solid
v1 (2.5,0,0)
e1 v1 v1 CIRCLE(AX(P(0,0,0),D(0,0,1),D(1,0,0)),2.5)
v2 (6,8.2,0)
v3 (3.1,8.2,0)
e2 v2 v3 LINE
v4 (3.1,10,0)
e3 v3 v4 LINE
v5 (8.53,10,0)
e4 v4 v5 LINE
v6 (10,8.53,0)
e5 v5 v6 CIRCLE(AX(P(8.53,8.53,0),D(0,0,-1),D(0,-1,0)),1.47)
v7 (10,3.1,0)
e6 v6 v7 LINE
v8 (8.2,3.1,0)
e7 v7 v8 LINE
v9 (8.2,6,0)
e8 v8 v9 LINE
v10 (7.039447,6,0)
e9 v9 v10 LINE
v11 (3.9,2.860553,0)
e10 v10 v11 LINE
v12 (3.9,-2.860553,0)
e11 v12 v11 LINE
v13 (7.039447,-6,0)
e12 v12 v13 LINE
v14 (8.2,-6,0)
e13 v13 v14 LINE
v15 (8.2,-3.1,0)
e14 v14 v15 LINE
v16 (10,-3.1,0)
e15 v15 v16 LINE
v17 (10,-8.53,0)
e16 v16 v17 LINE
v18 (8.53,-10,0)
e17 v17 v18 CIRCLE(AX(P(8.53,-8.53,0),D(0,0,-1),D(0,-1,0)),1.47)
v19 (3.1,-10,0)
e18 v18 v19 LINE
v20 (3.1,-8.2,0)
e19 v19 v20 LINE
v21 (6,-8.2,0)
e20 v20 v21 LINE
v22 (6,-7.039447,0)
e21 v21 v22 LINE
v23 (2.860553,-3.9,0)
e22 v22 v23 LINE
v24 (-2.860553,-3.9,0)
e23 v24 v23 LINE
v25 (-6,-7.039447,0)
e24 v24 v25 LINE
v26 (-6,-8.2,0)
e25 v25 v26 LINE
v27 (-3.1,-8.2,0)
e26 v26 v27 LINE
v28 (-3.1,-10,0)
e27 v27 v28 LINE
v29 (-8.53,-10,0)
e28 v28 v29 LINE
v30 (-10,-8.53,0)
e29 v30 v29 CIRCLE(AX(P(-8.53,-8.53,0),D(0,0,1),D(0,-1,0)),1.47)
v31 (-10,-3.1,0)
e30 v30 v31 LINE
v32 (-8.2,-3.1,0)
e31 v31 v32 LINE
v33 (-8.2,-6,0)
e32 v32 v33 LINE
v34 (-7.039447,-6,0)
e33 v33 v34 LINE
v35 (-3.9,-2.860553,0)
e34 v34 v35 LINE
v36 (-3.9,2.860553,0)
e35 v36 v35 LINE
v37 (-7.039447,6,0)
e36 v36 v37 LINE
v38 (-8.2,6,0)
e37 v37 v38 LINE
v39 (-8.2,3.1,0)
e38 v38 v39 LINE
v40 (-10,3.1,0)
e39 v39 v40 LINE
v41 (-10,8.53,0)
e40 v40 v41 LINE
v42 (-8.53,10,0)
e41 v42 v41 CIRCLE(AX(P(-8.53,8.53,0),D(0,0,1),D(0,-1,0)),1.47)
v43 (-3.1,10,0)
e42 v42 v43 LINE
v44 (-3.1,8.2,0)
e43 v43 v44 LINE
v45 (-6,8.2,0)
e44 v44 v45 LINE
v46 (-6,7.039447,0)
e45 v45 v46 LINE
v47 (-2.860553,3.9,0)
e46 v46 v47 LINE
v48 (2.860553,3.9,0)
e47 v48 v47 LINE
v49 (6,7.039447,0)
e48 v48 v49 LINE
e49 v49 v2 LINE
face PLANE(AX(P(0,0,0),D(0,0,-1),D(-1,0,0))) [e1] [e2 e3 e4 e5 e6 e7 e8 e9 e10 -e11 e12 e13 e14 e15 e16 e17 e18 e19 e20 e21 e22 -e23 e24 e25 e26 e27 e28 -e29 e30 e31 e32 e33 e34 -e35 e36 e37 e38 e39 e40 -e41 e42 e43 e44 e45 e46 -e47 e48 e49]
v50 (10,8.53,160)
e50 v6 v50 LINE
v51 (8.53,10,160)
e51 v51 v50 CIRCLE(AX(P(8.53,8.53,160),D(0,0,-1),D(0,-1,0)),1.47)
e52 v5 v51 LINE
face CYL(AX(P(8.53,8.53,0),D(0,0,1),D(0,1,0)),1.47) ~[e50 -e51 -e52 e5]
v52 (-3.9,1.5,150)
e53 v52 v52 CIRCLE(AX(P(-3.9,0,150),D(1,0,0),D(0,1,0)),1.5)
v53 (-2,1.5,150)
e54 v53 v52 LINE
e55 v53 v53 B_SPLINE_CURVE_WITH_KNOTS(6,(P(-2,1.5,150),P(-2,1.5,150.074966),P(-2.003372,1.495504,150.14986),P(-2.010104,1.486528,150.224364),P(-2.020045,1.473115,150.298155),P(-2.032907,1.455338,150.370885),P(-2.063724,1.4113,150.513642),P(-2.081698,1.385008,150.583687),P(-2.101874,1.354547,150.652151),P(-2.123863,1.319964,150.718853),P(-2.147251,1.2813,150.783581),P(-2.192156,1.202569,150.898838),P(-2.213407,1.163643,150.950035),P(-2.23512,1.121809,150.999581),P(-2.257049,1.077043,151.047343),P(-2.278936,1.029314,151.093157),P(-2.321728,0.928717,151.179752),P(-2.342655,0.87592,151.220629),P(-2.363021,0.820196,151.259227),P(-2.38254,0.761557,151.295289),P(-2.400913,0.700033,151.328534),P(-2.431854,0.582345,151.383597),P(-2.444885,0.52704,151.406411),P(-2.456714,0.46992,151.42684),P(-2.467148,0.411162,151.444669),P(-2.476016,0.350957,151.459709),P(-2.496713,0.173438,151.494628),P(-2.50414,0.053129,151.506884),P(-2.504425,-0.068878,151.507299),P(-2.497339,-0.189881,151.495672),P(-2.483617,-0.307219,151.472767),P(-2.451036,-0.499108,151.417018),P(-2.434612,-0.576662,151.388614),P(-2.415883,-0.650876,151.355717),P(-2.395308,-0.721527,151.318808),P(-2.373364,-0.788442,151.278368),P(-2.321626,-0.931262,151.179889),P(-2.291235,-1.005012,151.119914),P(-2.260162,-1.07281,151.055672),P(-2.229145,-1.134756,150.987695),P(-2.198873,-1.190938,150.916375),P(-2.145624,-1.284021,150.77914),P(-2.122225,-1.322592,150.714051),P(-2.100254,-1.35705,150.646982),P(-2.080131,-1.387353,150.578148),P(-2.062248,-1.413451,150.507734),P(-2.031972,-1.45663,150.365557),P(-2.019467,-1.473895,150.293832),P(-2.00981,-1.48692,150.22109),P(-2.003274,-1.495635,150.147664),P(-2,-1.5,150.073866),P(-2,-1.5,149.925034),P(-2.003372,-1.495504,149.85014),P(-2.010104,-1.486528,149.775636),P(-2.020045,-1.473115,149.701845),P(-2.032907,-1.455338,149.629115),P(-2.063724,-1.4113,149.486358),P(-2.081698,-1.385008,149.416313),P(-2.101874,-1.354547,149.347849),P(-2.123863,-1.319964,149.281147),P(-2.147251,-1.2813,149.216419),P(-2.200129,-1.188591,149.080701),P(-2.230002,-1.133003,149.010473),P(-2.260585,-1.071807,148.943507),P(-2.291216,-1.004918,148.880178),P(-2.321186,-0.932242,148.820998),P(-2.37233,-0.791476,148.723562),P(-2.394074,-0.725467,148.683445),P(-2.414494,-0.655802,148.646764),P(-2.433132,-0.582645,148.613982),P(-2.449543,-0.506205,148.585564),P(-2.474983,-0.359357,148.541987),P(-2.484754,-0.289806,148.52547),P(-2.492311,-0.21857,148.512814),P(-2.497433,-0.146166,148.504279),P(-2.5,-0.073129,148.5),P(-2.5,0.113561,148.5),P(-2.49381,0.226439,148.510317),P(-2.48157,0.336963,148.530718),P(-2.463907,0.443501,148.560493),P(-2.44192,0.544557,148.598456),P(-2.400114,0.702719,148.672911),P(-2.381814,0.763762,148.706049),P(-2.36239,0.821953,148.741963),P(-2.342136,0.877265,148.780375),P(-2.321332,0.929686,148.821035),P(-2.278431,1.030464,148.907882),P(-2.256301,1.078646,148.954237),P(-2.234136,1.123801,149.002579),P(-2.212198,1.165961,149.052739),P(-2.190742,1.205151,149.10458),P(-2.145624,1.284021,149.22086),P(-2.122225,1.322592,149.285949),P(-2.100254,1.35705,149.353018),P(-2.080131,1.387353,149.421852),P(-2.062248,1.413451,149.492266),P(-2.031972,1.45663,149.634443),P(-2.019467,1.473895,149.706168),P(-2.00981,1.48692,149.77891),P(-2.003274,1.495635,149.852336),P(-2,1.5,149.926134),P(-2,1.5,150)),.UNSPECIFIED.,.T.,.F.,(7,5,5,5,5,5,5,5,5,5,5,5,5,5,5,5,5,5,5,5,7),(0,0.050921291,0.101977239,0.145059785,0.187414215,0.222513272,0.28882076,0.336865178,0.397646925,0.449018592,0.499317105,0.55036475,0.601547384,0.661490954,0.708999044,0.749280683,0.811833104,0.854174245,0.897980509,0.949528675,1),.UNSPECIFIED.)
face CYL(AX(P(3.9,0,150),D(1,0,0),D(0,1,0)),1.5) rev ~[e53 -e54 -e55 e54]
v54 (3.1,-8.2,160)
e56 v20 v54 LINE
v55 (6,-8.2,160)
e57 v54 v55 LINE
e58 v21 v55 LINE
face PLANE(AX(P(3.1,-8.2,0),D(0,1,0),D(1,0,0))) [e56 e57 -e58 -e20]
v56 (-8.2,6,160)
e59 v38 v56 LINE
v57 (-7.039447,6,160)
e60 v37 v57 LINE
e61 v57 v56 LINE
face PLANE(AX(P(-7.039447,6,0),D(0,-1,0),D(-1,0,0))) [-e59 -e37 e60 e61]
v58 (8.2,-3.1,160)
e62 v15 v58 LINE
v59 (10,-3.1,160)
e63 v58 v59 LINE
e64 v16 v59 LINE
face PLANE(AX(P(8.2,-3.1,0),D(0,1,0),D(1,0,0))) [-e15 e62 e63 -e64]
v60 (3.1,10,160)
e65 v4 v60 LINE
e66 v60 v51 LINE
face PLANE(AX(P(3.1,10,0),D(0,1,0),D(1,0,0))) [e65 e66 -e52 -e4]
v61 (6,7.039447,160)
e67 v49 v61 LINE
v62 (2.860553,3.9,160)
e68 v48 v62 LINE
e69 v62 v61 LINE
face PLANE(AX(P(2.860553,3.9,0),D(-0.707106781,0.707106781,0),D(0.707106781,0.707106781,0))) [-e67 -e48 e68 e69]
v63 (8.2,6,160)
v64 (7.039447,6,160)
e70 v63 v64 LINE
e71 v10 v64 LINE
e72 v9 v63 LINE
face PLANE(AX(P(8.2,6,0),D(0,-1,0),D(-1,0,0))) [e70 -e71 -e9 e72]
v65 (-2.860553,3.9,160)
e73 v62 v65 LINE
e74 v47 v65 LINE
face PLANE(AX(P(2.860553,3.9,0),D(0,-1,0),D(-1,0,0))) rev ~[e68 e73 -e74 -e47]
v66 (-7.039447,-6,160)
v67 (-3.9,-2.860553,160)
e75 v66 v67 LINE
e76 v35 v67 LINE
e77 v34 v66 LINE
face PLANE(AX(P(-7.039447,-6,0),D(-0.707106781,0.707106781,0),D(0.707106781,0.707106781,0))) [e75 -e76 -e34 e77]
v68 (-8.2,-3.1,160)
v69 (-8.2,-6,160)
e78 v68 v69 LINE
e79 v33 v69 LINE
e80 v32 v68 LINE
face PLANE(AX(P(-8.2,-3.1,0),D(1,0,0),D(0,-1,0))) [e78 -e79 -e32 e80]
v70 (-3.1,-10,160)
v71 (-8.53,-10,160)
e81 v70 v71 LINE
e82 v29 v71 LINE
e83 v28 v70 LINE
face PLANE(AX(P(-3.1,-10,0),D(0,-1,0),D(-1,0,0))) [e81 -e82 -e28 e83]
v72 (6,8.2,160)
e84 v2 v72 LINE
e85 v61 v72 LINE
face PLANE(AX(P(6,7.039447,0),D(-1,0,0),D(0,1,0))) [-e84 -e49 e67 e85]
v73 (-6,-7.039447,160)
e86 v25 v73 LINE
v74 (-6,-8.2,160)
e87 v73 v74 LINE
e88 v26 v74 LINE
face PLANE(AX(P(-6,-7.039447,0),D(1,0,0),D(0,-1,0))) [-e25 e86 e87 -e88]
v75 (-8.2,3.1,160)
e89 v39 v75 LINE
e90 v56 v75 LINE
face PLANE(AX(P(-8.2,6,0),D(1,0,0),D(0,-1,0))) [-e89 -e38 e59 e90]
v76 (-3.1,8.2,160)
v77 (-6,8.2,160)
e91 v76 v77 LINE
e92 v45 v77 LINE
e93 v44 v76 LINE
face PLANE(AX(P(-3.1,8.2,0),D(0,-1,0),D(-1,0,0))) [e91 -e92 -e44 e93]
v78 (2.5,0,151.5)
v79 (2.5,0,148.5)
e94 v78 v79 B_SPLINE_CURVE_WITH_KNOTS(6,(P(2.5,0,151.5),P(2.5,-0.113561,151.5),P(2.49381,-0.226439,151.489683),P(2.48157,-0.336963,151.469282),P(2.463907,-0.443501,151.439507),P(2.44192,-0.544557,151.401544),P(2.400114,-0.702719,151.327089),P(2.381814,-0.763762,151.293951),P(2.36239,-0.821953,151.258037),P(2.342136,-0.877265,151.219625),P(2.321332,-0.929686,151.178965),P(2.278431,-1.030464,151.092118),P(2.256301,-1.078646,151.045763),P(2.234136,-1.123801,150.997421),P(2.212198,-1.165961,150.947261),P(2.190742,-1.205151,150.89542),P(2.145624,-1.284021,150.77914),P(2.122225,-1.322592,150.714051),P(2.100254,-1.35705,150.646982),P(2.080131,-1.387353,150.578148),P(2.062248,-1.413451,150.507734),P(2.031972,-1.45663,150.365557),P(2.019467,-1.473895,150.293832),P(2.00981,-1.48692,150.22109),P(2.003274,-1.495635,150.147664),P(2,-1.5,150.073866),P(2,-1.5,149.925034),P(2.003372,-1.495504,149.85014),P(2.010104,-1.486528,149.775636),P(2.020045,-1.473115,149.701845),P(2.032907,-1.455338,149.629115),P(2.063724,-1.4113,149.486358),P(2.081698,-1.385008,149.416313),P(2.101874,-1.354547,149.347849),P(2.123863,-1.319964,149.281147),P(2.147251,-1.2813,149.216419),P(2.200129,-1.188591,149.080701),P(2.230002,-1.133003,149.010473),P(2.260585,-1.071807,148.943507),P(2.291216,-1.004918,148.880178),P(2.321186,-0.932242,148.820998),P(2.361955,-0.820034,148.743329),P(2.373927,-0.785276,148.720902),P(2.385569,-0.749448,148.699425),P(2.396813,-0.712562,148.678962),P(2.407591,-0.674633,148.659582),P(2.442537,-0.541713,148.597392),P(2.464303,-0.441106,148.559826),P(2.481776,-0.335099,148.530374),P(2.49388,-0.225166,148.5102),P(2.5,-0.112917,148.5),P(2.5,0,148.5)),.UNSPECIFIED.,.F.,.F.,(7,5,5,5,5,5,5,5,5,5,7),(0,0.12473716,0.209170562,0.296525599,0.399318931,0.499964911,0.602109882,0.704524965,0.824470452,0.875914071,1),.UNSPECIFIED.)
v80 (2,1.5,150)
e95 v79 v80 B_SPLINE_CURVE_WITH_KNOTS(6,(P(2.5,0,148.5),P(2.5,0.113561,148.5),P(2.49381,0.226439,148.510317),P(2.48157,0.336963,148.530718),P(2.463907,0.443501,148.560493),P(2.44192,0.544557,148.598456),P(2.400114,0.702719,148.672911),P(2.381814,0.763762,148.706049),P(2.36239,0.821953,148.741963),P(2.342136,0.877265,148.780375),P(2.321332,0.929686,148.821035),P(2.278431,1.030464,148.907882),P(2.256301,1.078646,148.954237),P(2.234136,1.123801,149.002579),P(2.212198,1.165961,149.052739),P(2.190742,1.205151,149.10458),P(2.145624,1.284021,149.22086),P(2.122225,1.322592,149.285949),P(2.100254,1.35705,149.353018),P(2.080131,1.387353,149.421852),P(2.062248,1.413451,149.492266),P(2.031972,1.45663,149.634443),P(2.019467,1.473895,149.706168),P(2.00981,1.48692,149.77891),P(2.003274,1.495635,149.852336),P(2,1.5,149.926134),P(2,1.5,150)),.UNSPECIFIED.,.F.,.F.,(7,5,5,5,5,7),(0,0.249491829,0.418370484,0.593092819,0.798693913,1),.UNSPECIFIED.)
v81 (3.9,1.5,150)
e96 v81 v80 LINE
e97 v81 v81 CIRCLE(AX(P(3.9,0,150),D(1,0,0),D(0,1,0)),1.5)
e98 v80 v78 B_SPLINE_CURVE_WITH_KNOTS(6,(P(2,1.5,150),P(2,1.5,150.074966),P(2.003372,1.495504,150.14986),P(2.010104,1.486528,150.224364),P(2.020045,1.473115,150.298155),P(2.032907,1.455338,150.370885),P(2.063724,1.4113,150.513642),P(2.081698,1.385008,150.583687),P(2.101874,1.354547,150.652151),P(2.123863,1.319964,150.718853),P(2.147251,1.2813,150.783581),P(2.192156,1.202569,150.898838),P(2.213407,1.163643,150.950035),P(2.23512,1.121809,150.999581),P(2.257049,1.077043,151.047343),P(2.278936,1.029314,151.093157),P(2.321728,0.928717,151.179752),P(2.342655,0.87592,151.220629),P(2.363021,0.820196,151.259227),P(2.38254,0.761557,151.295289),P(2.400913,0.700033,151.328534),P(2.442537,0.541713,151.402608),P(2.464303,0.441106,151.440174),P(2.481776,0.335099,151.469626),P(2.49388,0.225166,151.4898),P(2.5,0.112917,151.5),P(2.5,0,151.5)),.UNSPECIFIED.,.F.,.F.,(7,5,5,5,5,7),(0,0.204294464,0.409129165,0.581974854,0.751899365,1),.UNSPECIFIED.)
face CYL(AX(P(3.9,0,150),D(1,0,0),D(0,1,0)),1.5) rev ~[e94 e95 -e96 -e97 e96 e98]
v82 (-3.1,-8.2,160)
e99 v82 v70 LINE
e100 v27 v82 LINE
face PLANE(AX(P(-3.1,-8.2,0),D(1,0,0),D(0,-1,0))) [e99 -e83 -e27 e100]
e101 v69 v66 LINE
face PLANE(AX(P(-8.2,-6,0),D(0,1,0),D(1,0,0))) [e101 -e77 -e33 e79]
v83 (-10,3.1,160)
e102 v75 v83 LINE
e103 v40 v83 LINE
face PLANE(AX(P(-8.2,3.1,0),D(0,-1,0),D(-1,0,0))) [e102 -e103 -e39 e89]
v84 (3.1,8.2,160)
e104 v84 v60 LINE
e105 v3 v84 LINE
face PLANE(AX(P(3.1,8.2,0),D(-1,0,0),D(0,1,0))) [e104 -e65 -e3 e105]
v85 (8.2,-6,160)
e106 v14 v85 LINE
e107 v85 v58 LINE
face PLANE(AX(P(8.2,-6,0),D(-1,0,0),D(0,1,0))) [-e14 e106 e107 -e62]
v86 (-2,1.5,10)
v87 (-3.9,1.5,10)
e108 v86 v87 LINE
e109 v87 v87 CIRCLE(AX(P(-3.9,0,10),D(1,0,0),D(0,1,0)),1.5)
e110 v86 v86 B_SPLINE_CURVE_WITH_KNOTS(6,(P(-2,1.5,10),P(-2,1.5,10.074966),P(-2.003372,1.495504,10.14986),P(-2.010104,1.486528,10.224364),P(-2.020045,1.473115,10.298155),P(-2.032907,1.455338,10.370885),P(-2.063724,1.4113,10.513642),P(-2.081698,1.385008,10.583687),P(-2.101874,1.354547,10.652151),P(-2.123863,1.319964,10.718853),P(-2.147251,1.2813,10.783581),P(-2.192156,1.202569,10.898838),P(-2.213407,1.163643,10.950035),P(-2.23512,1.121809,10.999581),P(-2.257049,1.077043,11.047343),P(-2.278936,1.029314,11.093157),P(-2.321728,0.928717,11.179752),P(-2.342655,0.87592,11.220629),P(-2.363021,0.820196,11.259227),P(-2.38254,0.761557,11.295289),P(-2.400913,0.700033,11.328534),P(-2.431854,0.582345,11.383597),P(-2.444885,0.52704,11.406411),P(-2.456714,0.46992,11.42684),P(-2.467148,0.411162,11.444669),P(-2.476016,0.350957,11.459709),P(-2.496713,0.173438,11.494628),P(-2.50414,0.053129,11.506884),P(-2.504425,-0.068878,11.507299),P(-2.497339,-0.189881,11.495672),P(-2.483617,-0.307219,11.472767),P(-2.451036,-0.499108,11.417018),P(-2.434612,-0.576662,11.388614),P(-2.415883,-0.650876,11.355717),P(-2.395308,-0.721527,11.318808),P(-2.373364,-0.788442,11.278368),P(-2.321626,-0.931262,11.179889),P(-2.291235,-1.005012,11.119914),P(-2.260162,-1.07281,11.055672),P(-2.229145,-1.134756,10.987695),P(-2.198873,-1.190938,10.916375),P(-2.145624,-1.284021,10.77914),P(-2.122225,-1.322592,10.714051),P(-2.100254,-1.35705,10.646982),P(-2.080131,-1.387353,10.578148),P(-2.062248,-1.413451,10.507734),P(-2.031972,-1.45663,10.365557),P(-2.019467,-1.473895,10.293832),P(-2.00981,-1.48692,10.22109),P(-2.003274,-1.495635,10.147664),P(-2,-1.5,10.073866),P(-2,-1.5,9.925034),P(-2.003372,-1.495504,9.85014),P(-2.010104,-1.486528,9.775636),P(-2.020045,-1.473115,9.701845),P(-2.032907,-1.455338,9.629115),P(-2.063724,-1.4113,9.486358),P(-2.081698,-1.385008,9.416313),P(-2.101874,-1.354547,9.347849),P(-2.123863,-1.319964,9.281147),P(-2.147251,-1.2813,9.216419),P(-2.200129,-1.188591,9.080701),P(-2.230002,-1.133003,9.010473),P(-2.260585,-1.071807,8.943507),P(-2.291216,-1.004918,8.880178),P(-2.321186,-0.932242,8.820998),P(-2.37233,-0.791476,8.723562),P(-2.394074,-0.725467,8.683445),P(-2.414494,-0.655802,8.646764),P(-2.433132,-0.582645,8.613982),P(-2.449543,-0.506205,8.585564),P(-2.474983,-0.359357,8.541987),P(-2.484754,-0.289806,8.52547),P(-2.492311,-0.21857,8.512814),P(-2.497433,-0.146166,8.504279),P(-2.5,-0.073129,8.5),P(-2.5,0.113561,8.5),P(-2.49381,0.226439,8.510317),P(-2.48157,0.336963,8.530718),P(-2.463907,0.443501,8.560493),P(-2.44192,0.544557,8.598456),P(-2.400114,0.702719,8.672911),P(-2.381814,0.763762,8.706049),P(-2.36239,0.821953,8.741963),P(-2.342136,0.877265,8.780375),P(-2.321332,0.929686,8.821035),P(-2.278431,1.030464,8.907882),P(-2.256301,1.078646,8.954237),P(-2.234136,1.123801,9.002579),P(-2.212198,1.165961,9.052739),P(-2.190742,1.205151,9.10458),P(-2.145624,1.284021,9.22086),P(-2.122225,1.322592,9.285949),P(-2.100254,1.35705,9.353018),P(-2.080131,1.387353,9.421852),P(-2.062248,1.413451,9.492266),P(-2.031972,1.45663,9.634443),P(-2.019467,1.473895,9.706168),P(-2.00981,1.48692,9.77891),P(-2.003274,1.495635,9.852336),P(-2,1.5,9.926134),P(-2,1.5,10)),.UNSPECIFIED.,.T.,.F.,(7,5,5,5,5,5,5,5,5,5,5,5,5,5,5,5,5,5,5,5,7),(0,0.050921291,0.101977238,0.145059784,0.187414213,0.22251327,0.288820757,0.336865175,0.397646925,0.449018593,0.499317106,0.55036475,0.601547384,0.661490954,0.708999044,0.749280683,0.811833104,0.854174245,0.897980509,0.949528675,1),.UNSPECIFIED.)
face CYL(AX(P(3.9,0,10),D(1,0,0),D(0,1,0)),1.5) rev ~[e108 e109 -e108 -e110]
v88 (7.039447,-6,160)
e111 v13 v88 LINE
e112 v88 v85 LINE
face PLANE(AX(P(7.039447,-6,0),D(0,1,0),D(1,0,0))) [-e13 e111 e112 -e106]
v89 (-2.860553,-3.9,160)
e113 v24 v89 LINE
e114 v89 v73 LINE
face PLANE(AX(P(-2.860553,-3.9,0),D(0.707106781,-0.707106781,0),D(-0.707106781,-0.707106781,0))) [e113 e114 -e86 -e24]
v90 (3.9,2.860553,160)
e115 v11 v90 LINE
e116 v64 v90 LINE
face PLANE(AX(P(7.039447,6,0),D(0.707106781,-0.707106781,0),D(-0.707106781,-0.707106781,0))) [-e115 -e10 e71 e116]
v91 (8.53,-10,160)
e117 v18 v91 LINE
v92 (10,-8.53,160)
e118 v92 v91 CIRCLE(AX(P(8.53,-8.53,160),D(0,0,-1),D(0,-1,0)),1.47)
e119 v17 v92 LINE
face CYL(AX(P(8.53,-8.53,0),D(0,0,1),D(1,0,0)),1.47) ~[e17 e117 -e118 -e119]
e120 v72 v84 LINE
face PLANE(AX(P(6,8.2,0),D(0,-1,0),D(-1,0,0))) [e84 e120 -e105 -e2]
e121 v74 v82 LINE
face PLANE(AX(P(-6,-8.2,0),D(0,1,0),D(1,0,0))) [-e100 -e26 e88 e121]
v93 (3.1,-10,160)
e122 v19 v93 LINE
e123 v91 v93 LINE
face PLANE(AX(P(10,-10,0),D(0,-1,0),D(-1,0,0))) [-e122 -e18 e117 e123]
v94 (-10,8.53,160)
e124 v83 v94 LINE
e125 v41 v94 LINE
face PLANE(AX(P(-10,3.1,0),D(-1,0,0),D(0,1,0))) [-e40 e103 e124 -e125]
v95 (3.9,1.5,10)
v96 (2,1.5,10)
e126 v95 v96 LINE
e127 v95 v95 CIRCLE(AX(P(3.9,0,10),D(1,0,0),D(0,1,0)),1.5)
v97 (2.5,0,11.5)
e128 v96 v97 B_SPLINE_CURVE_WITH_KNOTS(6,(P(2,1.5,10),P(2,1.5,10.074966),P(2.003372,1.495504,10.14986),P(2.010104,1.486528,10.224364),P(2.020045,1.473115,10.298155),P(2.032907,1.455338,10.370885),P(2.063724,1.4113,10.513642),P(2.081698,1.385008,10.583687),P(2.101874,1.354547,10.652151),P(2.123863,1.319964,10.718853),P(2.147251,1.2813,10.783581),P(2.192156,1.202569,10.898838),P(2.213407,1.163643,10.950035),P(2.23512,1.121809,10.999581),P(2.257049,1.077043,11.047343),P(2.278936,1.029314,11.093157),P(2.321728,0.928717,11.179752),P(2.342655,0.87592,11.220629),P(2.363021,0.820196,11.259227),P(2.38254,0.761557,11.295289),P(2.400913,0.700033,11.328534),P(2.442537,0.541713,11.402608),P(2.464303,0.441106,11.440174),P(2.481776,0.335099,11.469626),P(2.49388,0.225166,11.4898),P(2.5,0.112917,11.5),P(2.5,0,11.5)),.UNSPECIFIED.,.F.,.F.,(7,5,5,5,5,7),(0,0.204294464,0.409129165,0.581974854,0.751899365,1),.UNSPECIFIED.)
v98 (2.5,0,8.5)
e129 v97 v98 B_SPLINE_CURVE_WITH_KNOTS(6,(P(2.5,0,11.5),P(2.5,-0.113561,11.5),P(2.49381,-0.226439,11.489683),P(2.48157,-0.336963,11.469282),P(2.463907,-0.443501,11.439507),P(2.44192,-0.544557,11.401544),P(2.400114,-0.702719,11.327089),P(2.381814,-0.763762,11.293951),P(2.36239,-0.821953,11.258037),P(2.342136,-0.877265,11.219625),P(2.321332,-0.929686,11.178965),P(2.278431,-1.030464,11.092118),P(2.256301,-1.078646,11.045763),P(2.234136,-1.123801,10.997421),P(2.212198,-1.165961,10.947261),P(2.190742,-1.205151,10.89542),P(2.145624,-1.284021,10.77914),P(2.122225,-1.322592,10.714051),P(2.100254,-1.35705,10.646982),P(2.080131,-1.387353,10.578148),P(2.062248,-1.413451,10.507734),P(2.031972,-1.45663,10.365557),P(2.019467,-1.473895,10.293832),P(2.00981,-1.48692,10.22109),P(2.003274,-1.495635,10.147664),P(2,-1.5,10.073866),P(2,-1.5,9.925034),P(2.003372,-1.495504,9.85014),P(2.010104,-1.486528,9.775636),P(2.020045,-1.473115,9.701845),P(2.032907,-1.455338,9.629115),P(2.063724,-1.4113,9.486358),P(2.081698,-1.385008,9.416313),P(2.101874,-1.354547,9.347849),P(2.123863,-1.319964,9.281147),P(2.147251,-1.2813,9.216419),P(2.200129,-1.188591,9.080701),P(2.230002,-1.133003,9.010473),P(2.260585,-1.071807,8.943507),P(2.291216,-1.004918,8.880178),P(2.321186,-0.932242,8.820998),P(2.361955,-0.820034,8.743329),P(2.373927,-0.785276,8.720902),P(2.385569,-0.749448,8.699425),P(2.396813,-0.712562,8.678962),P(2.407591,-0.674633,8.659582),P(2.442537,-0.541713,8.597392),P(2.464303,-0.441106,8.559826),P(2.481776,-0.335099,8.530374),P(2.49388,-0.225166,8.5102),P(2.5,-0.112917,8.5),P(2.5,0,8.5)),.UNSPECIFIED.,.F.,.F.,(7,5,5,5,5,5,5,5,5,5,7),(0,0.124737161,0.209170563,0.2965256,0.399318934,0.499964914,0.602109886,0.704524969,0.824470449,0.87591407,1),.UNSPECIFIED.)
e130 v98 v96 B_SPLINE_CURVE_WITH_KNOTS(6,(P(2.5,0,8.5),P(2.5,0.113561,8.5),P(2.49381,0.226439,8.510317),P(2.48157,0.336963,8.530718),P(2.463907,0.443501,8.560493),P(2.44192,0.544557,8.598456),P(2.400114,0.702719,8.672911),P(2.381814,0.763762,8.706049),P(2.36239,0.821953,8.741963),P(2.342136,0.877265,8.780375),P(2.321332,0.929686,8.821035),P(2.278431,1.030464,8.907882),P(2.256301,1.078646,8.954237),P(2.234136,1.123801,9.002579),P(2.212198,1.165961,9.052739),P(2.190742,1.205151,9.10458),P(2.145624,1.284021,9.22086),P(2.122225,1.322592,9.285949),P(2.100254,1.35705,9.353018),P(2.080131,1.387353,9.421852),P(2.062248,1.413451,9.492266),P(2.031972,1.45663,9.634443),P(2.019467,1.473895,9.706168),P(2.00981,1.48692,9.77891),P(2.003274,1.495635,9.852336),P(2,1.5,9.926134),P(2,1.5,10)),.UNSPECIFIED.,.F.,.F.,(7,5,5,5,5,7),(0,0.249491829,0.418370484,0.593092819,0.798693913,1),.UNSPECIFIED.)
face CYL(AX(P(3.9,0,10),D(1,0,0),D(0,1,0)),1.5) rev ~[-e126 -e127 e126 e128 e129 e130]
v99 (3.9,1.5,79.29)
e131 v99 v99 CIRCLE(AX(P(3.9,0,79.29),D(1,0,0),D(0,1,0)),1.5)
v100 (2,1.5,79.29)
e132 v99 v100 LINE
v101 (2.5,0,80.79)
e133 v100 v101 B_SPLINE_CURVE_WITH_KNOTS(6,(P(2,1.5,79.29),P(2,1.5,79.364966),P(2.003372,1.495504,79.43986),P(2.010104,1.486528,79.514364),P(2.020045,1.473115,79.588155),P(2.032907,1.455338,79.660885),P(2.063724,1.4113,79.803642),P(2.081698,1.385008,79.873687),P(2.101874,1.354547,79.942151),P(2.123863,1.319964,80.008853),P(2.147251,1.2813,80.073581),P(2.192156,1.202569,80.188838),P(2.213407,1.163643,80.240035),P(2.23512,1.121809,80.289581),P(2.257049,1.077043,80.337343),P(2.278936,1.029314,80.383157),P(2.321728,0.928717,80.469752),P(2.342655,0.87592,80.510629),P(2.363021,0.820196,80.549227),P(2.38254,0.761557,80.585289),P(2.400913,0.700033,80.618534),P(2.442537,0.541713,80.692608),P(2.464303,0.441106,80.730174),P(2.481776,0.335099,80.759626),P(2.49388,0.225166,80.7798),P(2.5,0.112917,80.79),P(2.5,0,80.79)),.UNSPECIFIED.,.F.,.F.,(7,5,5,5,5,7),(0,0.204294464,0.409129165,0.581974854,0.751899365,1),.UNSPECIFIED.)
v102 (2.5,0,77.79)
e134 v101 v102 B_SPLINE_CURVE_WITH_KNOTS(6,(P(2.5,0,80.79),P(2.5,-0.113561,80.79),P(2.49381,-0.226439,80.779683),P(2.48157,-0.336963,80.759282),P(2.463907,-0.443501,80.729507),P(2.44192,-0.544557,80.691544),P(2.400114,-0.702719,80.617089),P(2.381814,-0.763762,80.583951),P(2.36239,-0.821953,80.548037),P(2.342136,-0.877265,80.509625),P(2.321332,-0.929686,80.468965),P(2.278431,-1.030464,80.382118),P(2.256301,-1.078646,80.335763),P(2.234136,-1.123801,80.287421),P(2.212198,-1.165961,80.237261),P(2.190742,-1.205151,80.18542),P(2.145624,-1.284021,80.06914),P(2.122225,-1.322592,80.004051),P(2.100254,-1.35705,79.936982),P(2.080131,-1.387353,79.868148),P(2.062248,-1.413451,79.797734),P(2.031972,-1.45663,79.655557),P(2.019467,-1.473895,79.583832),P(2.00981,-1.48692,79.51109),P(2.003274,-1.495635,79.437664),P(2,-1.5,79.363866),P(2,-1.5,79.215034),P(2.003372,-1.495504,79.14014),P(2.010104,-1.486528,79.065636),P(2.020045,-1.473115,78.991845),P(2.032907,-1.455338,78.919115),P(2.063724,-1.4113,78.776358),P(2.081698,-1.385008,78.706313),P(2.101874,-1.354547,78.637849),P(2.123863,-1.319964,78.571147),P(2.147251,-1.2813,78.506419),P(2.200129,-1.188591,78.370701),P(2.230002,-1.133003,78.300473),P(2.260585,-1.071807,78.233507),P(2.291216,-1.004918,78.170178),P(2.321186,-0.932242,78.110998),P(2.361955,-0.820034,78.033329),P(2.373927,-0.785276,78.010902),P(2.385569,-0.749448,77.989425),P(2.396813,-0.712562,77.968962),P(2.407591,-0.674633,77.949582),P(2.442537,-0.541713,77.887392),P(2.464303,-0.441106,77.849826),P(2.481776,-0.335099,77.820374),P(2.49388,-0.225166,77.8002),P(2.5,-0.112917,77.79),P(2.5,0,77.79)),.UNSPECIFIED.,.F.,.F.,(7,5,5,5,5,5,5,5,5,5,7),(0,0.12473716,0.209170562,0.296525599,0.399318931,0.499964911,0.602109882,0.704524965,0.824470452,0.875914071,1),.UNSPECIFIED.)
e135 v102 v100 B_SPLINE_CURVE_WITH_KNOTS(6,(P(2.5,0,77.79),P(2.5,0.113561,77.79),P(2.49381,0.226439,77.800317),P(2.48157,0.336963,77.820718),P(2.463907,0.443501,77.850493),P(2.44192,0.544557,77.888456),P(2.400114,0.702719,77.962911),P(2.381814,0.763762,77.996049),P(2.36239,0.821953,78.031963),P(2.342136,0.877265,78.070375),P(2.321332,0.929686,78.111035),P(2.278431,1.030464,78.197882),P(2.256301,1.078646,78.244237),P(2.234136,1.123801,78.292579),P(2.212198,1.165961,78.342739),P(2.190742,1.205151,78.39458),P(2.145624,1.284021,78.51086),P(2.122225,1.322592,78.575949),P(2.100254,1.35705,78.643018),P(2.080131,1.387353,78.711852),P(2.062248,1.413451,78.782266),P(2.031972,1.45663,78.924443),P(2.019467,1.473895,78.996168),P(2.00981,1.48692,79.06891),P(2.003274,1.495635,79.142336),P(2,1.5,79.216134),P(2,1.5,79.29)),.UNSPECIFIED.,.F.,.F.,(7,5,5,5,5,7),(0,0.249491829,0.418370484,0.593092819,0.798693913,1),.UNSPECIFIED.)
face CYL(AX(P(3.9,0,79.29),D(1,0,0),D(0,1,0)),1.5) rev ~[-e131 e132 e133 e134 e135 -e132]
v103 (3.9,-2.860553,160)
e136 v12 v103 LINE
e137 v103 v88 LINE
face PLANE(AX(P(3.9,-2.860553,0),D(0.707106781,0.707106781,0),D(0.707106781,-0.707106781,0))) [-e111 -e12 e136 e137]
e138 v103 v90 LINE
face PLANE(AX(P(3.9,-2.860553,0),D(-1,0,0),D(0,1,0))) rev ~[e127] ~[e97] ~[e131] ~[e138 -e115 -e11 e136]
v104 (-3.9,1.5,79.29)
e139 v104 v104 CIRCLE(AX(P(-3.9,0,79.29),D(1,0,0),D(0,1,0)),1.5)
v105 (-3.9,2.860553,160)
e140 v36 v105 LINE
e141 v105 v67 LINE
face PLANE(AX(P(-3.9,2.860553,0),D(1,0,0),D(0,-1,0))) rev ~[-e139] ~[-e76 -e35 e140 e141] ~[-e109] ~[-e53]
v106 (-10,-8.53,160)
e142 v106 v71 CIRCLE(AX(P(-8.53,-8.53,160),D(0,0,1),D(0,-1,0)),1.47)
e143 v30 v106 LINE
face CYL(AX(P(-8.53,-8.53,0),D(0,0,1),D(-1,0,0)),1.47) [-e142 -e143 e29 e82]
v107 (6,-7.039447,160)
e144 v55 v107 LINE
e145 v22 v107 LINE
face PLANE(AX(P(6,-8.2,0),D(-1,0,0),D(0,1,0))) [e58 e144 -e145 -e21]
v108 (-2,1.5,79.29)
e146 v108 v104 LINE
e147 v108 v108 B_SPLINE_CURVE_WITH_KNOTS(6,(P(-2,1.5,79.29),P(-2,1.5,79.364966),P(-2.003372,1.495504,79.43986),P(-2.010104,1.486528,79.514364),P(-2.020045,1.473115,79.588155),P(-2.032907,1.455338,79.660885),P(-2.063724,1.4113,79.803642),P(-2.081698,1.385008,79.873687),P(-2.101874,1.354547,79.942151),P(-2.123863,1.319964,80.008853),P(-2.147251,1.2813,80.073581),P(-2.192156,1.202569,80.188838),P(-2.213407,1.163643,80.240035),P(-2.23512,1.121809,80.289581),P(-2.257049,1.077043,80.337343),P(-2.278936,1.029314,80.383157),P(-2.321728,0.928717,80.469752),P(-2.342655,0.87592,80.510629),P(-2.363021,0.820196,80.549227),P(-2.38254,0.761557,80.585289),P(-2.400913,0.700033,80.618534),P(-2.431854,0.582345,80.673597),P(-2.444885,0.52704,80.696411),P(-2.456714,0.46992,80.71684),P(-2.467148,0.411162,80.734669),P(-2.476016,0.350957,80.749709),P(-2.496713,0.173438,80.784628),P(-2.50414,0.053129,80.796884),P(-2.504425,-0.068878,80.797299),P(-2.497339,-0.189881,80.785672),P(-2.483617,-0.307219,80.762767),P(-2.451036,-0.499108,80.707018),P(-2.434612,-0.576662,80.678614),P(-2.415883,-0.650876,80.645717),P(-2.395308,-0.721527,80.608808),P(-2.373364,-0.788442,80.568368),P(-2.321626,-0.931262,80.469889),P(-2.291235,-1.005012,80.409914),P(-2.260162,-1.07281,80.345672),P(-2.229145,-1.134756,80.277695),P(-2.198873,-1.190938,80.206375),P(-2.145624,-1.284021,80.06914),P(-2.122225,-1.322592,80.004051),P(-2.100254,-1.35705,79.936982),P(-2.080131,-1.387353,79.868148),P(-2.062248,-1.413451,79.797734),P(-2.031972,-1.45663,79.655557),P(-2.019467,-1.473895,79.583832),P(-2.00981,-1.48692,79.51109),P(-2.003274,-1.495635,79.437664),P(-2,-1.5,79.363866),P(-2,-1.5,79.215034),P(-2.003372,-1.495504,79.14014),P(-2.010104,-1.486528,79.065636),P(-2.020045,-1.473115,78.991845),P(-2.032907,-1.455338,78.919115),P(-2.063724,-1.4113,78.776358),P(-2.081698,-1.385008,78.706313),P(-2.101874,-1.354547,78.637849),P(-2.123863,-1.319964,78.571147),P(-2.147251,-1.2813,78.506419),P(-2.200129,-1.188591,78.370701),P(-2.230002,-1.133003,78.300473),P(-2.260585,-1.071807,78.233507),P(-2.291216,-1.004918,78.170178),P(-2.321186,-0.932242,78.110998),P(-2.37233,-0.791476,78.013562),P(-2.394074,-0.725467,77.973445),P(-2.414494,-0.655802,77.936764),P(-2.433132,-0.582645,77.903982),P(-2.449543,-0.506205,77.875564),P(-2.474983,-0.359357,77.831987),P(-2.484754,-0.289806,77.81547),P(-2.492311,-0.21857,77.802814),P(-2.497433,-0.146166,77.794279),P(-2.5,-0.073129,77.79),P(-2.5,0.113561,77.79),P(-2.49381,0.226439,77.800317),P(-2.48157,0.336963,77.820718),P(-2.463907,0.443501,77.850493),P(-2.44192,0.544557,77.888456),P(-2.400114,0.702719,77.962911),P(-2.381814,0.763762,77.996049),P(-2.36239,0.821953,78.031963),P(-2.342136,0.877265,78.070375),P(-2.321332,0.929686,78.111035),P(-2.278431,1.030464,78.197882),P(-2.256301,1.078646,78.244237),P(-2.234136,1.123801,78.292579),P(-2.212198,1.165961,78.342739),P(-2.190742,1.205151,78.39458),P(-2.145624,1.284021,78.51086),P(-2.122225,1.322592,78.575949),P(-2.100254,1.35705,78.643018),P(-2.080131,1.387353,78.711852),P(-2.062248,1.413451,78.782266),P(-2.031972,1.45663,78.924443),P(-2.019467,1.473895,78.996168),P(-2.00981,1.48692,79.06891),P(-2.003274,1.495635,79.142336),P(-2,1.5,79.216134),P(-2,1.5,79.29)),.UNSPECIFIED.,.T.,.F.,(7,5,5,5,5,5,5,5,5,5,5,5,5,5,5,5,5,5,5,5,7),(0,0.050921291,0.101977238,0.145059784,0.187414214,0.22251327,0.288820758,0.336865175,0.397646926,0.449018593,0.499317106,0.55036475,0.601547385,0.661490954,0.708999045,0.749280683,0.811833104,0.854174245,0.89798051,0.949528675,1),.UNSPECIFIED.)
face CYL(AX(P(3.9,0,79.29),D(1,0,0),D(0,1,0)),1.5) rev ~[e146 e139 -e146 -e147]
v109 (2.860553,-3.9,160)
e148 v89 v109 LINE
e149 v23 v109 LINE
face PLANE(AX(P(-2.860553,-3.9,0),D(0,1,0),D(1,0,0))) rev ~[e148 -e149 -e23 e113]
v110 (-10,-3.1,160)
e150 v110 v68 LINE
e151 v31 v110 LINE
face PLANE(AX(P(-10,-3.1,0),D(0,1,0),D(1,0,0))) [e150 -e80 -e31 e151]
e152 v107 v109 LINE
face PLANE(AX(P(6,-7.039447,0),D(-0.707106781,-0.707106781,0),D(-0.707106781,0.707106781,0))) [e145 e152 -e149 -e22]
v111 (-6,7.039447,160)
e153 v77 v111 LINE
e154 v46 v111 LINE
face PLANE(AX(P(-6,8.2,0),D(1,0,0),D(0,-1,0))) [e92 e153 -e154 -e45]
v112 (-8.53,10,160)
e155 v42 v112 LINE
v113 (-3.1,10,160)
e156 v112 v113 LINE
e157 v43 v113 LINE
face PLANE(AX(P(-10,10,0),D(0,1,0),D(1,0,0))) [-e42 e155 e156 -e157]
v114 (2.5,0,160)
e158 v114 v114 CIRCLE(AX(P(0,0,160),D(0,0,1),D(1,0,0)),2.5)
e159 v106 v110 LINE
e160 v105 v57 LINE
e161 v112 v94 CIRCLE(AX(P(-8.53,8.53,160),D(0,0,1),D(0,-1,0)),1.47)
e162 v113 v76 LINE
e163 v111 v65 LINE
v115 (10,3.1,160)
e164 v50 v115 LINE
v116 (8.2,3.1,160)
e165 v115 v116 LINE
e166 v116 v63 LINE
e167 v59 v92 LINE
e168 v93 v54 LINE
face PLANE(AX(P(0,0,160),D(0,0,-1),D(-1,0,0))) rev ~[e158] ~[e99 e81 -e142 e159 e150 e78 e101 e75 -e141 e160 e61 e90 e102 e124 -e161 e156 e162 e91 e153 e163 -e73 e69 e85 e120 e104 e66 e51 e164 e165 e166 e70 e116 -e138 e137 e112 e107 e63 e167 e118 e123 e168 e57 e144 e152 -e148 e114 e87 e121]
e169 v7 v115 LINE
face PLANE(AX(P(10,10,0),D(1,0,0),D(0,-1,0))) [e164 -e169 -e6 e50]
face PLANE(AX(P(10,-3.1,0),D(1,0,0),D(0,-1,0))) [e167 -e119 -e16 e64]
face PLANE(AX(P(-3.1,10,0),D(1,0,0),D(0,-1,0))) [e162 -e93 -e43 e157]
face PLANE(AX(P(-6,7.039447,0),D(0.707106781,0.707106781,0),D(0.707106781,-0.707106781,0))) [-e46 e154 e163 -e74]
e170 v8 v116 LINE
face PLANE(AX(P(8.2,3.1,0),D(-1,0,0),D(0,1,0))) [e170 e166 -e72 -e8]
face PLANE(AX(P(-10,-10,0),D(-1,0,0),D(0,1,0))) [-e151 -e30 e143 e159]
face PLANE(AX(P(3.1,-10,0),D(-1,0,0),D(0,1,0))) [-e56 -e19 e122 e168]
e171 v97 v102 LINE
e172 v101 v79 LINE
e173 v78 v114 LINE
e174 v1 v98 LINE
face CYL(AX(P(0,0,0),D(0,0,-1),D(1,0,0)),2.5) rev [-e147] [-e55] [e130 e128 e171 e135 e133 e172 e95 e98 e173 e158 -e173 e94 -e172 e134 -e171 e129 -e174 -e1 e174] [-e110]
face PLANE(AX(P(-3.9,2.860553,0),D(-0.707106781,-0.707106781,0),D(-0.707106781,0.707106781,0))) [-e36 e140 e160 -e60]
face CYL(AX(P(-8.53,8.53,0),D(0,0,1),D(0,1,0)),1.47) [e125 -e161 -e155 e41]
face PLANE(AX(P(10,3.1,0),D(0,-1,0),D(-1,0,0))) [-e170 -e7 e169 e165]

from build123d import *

# Parameters (mm, degrees)
SKETCH1_R           = 2.5
BOSS_EXTRUDE1_DEPTH = 160
FILLET1_R           = 1.47
SKETCH2_R           = 1.5
CUT_EXTRUDE1_DEPTH  = 161.913672508


with BuildPart() as part:
    # Sketch1 → Boss-Extrude1 (new body)
    with BuildSketch(Plane.XY):
        Polygon((2.860553032, 3.9), (6, 7.039446968), (6, 8.2), (3.1, 8.2), (3.1, 10), (10, 10), (10, 3.1), (8.2, 3.1), (8.2, 6), (7.039446968, 6), (3.9, 2.860553032), (3.9, 0), (3.9, -2.860553032), (7.039446968, -6), (8.2, -6), (8.2, -3.1), (10, -3.1), (10, -10), (3.1, -10), (3.1, -8.2), (6, -8.2), (6, -7.039446968), (2.860553032, -3.9), (0, -3.9), (-2.860553032, -3.9), (-6, -7.039446968), (-6, -8.2), (-3.1, -8.2), (-3.1, -10), (-10, -10), (-10, -3.1), (-8.2, -3.1), (-8.2, -6), (-7.039446968, -6), (-3.9, -2.860553032), (-3.9, 0), (-3.9, 2.860553032), (-7.039446968, 6), (-8.2, 6), (-8.2, 3.1), (-10, 3.1), (-10, 10), (-3.1, 10), (-3.1, 8.2), (-6, 8.2), (-6, 7.039446968), (-2.860553032, 3.9), (0, 3.9), align=None)
        Circle(SKETCH1_R, mode=Mode.SUBTRACT)
    extrude(amount=BOSS_EXTRUDE1_DEPTH)

    # Fillet1
    fillet1_edges = [part.edges().sort_by_distance(p)[0] for p in [
        (10, -10, 80),
        (-10, -10, 80),
        (-10, 10, 80),
        (10, 10, 80),
    ]]
    fillet(fillet1_edges, radius=FILLET1_R)

    # Sketch2 → Cut-Extrude1 (cut, through all)
    with BuildSketch(Plane(origin=(3.9, 0, 0), x_dir=(0, 0, -1), z_dir=(1, 0, 0))):
        with Locations(Location((-150, 0, 0), (0, 0, 90))):
            Circle(SKETCH2_R)
        with Locations(Location((-79.29, 0, 0), (0, 0, 90))):
            Circle(SKETCH2_R)
        with Locations(Location((-10, 0, 0), (0, 0, 90))):
            Circle(SKETCH2_R)
    extrude(amount=-CUT_EXTRUDE1_DEPTH, mode=Mode.SUBTRACT)


solid = part.part
